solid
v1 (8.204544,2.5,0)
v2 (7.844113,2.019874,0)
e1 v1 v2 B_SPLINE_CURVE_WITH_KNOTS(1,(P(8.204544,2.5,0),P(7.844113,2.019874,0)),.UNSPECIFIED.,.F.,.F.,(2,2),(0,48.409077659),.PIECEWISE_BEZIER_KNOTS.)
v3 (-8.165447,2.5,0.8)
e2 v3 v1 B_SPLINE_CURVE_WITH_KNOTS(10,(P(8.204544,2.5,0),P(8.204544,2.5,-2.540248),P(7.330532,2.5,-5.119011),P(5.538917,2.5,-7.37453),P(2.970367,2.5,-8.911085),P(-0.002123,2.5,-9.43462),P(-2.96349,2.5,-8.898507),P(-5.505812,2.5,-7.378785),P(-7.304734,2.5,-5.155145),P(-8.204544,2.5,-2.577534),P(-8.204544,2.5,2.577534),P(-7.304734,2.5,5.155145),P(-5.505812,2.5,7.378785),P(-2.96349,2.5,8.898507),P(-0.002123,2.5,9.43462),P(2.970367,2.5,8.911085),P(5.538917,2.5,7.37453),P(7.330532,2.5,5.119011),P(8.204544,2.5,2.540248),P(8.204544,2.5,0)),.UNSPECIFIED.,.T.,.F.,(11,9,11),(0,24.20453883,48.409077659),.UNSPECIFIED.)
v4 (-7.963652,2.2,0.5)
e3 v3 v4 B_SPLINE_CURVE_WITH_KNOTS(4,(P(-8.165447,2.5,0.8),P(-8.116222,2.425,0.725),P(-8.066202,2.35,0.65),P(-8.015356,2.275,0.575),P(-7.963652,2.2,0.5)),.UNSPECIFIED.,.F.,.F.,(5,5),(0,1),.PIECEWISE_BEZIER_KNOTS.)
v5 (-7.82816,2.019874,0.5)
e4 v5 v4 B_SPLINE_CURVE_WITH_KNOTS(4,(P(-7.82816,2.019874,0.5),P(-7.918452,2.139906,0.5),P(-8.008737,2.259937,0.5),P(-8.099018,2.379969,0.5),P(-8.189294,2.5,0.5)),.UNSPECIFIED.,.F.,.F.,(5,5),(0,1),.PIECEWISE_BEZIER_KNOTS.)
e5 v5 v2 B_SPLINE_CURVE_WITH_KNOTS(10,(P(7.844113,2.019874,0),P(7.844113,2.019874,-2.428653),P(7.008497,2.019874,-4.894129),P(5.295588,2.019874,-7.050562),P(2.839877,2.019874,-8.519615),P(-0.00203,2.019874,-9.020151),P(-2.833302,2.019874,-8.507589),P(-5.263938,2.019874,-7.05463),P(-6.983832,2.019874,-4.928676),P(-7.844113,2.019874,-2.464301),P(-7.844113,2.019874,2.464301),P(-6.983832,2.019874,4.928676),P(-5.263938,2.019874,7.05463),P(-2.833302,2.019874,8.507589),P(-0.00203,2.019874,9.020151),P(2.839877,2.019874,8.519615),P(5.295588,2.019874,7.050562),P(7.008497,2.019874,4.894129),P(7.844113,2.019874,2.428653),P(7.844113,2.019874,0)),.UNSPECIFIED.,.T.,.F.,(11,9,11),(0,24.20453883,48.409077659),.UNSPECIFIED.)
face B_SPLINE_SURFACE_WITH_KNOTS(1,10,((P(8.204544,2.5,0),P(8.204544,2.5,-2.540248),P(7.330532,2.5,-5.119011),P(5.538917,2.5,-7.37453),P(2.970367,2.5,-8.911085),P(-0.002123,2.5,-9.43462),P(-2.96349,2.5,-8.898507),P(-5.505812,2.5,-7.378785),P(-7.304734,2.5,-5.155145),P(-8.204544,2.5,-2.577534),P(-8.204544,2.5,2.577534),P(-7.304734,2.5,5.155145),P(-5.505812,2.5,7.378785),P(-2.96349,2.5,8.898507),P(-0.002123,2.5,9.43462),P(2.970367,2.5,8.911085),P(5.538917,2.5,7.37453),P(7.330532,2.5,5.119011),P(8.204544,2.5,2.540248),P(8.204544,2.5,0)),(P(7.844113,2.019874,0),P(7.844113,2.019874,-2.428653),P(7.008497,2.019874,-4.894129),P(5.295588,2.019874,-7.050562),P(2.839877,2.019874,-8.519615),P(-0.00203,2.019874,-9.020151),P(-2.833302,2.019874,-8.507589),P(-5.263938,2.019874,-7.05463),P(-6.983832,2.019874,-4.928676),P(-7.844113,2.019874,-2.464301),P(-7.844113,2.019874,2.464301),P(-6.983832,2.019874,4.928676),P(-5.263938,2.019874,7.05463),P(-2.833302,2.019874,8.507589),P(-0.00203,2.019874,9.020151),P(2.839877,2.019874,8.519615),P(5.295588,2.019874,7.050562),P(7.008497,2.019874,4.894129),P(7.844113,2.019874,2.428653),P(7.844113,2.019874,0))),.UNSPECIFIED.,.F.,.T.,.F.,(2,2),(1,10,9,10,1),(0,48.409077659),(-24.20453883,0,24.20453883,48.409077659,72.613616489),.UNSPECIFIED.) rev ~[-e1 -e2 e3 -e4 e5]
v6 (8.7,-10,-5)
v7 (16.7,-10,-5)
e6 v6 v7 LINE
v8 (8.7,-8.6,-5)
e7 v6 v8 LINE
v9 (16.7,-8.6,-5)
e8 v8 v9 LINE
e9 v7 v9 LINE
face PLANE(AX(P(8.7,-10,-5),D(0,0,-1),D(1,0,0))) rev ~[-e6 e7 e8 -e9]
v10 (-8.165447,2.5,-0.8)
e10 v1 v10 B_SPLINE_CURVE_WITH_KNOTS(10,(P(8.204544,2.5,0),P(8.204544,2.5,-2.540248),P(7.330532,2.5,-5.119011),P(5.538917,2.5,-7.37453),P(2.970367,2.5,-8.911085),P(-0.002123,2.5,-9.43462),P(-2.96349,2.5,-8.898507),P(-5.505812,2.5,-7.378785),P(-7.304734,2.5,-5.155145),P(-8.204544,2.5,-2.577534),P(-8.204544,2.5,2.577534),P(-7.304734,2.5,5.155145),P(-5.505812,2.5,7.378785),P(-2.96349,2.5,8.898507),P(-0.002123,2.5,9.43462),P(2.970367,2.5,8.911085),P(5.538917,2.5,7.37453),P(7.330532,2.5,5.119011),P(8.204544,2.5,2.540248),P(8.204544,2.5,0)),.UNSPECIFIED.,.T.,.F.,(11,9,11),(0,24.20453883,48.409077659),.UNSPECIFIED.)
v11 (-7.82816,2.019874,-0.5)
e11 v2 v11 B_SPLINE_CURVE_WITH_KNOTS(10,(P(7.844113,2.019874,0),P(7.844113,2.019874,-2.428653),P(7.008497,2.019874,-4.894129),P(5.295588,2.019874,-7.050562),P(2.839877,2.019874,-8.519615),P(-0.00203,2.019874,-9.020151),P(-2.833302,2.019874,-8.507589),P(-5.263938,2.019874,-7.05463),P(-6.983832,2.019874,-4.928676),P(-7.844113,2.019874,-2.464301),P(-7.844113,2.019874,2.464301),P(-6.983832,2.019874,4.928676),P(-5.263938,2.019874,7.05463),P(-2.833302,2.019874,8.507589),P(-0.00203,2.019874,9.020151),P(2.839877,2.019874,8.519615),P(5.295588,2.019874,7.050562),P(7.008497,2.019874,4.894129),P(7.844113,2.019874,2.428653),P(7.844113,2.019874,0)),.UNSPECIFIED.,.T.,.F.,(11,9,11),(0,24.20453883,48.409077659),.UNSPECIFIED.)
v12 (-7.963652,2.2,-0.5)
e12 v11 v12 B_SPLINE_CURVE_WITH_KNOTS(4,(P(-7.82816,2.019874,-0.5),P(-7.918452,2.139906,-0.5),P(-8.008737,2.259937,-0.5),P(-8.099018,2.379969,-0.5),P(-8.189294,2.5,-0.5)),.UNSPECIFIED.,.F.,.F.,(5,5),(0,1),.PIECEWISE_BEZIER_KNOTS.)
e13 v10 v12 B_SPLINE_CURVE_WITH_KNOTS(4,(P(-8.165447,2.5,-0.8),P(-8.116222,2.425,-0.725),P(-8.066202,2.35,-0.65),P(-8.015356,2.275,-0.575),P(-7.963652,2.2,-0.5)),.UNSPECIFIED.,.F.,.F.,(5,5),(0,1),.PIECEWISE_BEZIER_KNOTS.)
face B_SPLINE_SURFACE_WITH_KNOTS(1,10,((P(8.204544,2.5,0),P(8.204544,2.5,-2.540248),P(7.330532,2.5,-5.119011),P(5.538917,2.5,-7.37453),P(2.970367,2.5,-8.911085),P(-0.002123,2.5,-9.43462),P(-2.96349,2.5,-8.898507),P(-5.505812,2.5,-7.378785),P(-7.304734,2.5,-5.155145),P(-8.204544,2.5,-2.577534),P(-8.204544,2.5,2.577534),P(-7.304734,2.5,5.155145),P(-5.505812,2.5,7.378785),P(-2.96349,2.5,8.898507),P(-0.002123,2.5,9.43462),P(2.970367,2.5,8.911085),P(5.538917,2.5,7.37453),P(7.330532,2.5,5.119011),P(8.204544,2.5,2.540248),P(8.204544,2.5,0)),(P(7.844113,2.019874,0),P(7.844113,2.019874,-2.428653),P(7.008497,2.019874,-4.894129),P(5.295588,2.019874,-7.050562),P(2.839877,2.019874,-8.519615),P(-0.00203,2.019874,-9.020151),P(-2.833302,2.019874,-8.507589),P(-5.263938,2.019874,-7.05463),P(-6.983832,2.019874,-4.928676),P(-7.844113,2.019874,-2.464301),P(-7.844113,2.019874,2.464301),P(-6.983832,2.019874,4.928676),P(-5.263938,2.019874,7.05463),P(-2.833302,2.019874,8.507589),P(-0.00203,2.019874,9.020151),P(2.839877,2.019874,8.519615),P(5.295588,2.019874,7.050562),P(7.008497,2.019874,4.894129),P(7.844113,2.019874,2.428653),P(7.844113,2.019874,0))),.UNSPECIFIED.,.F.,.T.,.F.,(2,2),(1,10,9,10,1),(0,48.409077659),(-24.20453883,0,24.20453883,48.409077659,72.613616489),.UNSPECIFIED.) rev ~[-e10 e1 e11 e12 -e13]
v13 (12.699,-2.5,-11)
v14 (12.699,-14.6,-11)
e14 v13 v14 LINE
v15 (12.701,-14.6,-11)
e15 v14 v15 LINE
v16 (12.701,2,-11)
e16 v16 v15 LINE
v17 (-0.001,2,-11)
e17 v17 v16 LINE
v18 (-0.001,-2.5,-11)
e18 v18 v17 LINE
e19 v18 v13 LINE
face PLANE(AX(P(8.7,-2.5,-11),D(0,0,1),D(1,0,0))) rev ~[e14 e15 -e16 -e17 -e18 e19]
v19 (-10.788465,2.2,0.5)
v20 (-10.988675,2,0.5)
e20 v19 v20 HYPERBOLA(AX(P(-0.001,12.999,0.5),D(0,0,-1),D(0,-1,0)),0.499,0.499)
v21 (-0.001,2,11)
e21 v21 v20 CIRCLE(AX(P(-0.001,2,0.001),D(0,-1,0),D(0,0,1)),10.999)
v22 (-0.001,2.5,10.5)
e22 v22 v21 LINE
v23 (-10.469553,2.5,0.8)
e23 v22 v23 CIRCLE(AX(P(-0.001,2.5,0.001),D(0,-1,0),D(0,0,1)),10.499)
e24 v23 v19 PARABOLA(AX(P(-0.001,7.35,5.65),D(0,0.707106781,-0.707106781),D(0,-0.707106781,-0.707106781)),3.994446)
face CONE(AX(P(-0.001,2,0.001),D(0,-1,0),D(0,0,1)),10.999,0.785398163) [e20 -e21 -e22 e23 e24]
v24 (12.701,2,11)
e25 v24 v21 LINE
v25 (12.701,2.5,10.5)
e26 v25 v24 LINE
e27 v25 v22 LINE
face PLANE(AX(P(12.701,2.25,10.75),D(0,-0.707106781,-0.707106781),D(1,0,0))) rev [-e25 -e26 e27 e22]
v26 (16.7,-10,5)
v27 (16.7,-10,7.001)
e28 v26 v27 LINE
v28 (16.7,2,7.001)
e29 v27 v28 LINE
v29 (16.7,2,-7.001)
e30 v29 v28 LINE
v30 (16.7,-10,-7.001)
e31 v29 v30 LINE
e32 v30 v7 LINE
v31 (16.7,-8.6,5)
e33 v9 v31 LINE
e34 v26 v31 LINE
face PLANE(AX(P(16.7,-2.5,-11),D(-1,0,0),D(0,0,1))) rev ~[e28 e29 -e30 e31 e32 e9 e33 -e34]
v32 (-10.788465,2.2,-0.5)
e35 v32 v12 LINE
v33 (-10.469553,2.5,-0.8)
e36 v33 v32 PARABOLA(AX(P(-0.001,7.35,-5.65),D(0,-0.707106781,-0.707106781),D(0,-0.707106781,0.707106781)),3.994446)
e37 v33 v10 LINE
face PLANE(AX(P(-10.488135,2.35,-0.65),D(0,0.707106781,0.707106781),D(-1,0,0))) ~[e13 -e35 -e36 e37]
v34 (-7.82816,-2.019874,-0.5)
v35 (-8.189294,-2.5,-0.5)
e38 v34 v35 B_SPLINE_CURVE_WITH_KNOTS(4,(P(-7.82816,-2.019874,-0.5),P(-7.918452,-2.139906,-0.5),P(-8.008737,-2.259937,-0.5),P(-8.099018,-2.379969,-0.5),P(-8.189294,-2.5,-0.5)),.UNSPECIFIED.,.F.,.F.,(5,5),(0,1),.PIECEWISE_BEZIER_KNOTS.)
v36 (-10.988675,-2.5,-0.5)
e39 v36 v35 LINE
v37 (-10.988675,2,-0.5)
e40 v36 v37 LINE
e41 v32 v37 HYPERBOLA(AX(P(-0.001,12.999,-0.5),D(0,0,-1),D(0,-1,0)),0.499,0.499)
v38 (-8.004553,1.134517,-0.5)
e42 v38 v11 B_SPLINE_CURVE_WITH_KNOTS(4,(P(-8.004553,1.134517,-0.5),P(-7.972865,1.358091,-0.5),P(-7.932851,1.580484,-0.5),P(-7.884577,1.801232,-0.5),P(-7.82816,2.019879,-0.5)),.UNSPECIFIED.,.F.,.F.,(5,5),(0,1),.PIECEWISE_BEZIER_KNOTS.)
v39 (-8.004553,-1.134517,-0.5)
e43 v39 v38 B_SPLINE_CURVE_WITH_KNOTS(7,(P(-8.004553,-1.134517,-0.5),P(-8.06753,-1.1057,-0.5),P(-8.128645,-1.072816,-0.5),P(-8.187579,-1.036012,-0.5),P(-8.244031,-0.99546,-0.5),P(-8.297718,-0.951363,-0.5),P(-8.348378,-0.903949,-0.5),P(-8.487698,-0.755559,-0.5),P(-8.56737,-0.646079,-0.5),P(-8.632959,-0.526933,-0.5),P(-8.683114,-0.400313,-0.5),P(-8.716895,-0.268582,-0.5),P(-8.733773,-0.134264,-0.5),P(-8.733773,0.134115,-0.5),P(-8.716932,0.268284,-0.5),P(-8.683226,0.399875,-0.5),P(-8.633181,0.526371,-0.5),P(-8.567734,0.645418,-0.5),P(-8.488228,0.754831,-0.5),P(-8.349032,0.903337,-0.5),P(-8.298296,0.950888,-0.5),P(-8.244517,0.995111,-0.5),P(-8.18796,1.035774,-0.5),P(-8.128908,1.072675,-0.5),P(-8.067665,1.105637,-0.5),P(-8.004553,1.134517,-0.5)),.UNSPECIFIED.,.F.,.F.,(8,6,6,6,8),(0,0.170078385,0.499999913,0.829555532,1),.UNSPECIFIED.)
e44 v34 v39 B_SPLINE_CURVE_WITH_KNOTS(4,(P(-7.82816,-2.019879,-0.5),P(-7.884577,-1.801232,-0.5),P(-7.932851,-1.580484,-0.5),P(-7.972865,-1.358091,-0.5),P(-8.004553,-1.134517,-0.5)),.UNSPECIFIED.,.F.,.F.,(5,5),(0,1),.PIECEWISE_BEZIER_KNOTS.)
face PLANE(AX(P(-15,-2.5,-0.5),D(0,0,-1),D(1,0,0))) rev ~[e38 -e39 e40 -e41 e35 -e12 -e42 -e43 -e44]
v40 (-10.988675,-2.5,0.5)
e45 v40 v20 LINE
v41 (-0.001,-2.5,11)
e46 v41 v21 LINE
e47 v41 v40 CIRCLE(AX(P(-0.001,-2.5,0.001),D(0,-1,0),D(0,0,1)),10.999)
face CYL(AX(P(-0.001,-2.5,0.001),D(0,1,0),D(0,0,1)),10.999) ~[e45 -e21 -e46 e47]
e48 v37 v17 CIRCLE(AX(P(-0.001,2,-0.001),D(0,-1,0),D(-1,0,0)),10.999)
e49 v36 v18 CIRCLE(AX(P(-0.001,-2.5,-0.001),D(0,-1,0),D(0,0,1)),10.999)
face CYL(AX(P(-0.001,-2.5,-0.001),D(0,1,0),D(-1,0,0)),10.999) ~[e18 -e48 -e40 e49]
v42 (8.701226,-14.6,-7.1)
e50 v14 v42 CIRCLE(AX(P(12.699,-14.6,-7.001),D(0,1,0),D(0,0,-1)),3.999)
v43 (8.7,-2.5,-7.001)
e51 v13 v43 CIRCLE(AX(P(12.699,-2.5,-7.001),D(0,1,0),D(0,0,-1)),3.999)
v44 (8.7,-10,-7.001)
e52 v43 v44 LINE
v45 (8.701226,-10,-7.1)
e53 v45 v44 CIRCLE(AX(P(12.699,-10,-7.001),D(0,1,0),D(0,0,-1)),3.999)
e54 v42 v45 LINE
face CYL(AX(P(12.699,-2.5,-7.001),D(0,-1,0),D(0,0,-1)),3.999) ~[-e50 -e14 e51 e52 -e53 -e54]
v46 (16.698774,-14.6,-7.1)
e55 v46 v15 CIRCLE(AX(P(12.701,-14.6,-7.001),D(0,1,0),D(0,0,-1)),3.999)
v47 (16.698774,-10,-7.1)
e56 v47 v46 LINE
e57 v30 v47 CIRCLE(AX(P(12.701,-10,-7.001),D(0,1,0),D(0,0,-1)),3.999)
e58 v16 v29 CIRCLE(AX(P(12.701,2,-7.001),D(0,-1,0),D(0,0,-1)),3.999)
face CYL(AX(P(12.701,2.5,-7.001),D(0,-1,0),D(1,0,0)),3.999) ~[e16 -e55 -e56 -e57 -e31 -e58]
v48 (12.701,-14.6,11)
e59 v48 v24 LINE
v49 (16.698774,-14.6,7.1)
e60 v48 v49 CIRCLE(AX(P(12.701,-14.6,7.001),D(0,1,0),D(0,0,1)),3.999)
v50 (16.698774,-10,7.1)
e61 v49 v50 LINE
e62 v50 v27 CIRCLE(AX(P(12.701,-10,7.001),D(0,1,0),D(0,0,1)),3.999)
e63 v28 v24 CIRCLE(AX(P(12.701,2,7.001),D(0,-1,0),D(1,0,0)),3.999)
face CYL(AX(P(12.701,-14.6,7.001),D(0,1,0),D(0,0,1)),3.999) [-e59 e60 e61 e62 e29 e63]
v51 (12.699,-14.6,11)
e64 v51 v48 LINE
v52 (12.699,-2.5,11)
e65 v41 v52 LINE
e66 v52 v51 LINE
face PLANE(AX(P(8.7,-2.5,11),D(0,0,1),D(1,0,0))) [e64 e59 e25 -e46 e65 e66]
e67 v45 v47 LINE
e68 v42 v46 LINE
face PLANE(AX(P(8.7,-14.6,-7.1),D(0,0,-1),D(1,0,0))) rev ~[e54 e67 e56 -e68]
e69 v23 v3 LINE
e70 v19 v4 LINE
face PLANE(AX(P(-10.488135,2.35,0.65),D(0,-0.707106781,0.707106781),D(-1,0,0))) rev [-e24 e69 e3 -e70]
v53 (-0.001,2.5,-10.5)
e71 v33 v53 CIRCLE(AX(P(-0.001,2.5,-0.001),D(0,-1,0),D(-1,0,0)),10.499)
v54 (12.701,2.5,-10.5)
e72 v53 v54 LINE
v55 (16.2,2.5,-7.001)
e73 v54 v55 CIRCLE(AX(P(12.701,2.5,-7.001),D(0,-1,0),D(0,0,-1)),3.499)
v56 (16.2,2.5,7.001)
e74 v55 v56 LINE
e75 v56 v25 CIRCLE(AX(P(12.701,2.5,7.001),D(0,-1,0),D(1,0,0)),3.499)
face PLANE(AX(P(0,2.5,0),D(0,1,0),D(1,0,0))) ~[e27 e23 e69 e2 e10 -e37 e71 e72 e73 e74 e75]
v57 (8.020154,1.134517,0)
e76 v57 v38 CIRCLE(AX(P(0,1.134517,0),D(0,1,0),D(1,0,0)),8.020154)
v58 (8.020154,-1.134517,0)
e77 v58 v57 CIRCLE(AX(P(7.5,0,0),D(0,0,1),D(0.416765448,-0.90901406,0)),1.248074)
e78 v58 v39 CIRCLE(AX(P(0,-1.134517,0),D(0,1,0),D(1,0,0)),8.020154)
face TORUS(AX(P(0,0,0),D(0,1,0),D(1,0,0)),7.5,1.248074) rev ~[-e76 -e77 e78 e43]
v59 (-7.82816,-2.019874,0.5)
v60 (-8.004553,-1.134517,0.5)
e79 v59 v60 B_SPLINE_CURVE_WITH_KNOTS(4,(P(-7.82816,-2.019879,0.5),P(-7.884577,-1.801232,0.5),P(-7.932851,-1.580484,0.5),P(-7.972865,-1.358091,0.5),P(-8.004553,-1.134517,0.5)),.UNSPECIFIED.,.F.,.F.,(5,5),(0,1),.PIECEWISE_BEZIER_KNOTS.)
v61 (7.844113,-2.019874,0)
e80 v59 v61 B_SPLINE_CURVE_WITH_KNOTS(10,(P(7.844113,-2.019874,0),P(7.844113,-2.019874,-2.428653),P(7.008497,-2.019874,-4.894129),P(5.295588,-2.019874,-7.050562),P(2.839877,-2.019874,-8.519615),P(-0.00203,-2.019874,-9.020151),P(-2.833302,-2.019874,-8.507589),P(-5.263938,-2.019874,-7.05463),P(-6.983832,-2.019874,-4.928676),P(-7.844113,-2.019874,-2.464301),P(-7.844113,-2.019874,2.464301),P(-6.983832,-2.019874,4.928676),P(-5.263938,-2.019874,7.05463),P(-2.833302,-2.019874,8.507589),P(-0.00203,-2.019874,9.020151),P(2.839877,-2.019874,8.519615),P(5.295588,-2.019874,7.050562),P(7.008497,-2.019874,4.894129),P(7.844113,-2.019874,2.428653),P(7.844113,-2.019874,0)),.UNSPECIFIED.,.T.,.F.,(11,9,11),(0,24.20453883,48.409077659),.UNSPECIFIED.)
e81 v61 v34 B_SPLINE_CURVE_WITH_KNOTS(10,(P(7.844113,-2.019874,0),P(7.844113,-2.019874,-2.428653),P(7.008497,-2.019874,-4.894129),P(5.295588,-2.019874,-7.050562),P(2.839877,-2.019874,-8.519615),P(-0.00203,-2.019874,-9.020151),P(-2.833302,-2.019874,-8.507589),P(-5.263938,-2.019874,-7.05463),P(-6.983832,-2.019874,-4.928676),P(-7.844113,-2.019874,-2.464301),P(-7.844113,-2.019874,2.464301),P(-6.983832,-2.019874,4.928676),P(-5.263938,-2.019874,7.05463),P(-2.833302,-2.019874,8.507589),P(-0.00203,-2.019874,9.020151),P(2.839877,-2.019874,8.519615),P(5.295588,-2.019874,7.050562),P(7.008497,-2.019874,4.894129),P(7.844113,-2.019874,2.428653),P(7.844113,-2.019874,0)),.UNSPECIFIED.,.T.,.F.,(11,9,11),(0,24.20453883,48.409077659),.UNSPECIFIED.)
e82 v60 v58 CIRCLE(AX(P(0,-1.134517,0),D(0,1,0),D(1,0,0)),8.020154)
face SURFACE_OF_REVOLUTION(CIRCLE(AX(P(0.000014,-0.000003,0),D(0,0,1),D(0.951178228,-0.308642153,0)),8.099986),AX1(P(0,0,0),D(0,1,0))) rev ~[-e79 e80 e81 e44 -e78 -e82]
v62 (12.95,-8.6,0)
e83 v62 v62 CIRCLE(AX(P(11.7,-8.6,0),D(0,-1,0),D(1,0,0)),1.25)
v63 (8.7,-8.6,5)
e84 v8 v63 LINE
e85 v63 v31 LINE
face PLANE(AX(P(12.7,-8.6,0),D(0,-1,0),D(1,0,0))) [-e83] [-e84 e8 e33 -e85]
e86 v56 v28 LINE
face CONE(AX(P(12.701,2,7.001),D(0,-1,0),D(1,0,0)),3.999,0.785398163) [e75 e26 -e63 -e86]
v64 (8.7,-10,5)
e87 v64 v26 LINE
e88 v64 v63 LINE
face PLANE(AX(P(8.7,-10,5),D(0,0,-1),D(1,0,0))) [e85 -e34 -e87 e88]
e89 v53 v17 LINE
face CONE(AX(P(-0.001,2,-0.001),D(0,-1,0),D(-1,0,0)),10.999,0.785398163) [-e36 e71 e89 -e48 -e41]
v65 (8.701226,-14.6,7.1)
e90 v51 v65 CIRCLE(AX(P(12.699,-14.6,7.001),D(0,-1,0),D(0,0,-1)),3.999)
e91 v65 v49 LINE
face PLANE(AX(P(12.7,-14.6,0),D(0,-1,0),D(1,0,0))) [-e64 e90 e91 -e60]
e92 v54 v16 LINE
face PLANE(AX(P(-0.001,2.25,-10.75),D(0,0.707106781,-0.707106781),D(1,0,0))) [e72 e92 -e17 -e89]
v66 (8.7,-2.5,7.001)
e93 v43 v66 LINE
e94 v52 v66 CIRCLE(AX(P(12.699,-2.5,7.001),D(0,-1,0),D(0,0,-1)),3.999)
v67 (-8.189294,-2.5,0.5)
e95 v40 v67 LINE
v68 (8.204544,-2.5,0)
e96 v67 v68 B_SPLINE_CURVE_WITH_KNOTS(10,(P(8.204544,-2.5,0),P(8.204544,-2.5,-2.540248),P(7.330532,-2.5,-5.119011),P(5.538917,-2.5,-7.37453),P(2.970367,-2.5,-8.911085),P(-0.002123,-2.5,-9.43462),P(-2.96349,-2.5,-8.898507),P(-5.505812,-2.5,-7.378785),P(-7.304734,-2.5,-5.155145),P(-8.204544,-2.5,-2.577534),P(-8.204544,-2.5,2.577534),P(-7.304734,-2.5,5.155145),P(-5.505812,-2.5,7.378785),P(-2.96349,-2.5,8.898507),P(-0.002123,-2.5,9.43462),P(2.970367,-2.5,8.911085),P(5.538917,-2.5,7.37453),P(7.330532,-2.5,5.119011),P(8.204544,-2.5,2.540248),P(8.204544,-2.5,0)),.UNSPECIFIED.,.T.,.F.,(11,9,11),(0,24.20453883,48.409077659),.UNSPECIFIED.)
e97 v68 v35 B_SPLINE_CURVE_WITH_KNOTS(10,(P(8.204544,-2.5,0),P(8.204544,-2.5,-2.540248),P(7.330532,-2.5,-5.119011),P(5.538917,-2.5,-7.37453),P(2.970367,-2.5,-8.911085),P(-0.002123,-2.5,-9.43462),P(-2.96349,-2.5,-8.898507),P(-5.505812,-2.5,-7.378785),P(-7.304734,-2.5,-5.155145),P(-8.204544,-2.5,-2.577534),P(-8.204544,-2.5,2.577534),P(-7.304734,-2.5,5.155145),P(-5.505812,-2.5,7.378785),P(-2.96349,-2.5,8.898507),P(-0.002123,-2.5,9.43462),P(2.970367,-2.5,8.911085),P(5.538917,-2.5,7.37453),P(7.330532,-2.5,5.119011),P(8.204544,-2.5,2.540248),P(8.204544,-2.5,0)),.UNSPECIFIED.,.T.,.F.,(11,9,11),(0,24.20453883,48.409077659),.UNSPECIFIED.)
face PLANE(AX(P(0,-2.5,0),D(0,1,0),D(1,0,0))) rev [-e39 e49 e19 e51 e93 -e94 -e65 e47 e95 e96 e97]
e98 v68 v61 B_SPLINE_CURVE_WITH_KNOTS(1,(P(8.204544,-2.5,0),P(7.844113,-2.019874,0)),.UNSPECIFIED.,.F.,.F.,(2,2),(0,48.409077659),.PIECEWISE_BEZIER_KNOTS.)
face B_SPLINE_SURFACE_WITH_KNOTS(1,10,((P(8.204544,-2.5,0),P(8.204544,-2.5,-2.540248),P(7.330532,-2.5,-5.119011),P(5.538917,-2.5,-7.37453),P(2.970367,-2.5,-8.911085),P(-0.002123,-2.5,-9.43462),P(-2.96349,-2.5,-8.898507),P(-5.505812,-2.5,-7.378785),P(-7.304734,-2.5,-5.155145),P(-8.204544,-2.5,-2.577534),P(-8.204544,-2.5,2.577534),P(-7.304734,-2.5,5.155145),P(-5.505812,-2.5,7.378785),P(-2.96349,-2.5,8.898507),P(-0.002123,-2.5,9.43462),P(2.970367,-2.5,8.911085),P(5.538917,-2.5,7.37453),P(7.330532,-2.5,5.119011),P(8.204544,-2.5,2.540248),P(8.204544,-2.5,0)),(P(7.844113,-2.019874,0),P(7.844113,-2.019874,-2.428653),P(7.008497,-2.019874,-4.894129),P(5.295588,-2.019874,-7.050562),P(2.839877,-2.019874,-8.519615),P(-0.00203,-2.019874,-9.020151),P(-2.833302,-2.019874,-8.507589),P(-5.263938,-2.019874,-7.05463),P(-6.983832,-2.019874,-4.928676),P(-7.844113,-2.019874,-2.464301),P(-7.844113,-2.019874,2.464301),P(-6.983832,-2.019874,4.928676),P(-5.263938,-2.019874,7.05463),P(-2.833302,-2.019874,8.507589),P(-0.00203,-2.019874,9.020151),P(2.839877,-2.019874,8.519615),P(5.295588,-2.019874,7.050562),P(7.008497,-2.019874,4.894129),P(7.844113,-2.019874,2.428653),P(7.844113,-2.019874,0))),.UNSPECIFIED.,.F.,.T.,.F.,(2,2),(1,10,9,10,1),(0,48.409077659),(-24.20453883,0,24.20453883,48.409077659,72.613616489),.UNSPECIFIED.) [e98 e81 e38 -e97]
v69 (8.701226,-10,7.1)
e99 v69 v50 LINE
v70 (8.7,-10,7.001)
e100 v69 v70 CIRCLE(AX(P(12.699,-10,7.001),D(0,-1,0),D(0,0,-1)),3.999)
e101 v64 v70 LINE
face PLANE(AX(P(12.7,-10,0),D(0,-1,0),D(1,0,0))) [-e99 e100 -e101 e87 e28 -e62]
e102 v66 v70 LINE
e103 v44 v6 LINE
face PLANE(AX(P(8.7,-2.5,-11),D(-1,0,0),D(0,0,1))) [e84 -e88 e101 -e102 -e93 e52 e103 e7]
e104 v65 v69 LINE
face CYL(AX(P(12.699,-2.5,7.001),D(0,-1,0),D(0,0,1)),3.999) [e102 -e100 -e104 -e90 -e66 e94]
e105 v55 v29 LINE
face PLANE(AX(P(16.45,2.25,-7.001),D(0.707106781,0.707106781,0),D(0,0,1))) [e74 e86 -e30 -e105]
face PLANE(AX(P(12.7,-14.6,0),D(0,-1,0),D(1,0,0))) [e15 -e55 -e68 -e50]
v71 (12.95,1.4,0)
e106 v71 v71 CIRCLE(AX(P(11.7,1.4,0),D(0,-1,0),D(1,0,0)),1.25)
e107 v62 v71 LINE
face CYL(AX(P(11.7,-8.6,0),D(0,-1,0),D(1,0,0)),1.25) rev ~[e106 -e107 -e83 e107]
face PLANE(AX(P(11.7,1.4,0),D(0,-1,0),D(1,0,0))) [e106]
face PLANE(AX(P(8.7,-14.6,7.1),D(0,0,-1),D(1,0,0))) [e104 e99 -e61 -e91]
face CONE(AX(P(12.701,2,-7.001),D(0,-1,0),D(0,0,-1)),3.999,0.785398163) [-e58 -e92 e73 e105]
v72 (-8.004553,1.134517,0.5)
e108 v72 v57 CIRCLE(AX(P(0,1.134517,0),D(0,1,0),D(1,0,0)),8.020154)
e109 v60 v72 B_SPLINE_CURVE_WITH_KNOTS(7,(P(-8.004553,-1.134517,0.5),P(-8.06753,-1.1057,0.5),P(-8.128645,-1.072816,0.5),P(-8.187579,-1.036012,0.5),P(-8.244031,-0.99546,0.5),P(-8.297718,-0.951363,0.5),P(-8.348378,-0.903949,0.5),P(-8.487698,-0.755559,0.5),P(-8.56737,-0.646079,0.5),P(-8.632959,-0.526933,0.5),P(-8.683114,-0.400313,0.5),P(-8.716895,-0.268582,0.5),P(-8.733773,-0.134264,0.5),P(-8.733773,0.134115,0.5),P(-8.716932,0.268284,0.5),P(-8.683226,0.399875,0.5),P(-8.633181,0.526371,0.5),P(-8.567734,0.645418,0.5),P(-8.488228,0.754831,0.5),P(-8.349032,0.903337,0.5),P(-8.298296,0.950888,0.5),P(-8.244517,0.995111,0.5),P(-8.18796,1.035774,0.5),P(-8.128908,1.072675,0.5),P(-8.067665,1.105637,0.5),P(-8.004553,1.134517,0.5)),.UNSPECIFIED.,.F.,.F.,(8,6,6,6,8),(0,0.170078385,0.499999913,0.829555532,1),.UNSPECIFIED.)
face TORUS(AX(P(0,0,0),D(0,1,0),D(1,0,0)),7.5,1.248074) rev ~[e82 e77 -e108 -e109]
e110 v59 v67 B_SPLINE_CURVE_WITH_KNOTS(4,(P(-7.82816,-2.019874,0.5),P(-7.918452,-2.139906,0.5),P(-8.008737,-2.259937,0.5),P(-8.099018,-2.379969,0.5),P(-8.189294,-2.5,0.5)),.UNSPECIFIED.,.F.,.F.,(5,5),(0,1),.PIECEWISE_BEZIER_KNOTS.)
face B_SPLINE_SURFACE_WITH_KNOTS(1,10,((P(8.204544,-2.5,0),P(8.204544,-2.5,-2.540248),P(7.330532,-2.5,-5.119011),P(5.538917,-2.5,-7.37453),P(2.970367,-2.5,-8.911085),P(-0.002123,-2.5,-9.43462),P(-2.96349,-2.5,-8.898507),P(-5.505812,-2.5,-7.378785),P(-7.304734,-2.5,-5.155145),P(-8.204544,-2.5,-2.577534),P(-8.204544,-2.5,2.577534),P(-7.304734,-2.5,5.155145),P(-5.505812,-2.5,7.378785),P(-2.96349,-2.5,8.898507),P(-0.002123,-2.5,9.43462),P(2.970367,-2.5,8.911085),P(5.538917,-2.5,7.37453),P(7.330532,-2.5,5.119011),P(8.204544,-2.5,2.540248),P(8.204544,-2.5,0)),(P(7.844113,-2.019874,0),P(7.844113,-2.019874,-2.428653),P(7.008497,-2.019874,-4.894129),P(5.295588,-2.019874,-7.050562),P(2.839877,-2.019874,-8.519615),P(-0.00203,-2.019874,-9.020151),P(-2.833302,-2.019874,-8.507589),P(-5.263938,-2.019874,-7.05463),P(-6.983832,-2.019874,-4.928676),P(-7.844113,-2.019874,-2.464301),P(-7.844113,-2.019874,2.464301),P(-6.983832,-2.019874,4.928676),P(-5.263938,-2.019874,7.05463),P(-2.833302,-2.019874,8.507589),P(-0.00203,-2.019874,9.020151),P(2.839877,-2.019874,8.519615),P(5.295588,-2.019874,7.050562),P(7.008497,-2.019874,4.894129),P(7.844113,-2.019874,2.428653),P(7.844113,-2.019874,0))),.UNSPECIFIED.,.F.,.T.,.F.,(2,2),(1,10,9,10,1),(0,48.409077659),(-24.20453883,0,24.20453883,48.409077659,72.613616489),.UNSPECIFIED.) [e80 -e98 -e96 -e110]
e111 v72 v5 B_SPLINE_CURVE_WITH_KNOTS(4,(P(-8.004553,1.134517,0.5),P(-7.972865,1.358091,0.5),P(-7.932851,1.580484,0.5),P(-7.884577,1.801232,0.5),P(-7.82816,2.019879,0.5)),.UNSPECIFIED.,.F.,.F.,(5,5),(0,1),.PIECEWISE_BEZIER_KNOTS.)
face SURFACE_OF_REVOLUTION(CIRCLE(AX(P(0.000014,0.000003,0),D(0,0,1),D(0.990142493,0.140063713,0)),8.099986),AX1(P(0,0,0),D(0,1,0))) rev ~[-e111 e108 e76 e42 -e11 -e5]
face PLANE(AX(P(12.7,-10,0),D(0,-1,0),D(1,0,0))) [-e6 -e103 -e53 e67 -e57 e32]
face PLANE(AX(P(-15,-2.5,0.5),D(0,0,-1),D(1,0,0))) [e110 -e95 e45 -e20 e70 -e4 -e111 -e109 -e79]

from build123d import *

# Parameters (mm, degrees)
CHAMFER_SIZE    = 0.5
CHAMFER001_SIZE = 0.5
SKETCH001_W     = 70
SKETCH001_H     = 70
SKETCH001_W_2   = 27.7
SKETCH001_H_2   = 22
POCKET_DEPTH    = 5.001
SKETCH002_W     = 8
SKETCH002_H     = 22
PAD_DEPTH       = 12.1
SKETCH003_W     = 8
SKETCH003_H     = 14.2
POCKET001_DEPTH = 4.6
SKETCH004_W     = 8
SKETCH004_H     = 10
POCKET002_DEPTH = 1.4
SKETCH005_R     = 1.25
POCKET003_DEPTH = 10
FILLET_R        = 10.999
FILLET001_R     = 10.999
FILLET002_R     = 3.999
FILLET003_R     = 3.999
FILLET004_R     = 3.999
FILLET005_R     = 3.999
CHAMFER002_SIZE = 0.5
SKETCH006_W     = 10
SKETCH006_H     = 1
POCKET004_DEPTH = 6
CHAMFER003_SIZE = 0.3
CHAMFER004_SIZE = 0.3


with BuildPart() as part:
    # Sketch → Revolution (revolve)
    with BuildSketch(Plane.XY):
        with BuildLine():
            Line((7.704544, 2.5), (31, 2.5))
            Line((31, 2.5), (31, -2.5))
            Line((7.704544, -2.5), (31, -2.5))
            ThreePointArc((7.704544, -2.5), (7.891937, -1.824097), (8.020154, -1.134517))
            ThreePointArc((8.020154, -1.134517), (8.748074, 0), (8.020154, 1.134517))
            ThreePointArc((8.020154, 1.134517), (7.891937, 1.824097), (7.704544, 2.5))
        make_face()
    revolve(axis=Axis((0, 0, 0), (0, 1, 0)))

    # Chamfer
    chamfer_edges = [part.edges().sort_by_distance(p)[0] for p in [
        (-7.704544, -2.5, 0),
    ]]
    chamfer(chamfer_edges, length=CHAMFER_SIZE)

    # Chamfer001
    chamfer001_edges = [part.edges().sort_by_distance(p)[0] for p in [
        (-7.704544, 2.5, 0),
    ]]
    chamfer(chamfer001_edges, length=CHAMFER001_SIZE)

    # Sketch001 → Pocket (cut, through all)
    with BuildSketch(Plane.XZ.offset(2.5)):
        Rectangle(SKETCH001_W, SKETCH001_H)
        with Locations((2.85, 0)):
            Rectangle(SKETCH001_W_2, SKETCH001_H_2, mode=Mode.SUBTRACT)
    extrude(amount=-POCKET_DEPTH, mode=Mode.SUBTRACT)

    # Sketch002 → Pad (new body)
    with BuildSketch(Plane.XZ.offset(2.5)):
        with Locations((12.7, 0)):
            Rectangle(SKETCH002_W, SKETCH002_H)
    extrude(amount=PAD_DEPTH)

    # Sketch003 → Pocket001 (cut)
    with BuildSketch(Plane.XZ.offset(14.6)):
        with Locations((12.7, 0)):
            Rectangle(SKETCH003_W, SKETCH003_H)
    extrude(amount=-POCKET001_DEPTH, mode=Mode.SUBTRACT)

    # Sketch004 → Pocket002 (cut)
    with BuildSketch(Plane.XZ.offset(10)):
        with Locations((12.7, 0)):
            Rectangle(SKETCH004_W, SKETCH004_H)
    extrude(amount=-POCKET002_DEPTH, mode=Mode.SUBTRACT)

    # Sketch005 → Pocket003 (cut)
    with BuildSketch(Plane.XZ.offset(8.6)):
        with Locations((11.7, 0)):
            Circle(SKETCH005_R)
    extrude(amount=-POCKET003_DEPTH, mode=Mode.SUBTRACT)

    # Fillet
    fillet_edges = [part.edges().sort_by_distance(p)[0] for p in [
        (-11, 0, 11),
    ]]
    fillet(fillet_edges, radius=FILLET_R)

    # Fillet001
    fillet001_edges = [part.edges().sort_by_distance(p)[0] for p in [
        (-11, 0, -11),
    ]]
    fillet(fillet001_edges, radius=FILLET001_R)

    # Fillet002
    fillet002_edges = [part.edges().sort_by_distance(p)[0] for p in [
        (8.7, -8.55, -11),
    ]]
    fillet(fillet002_edges, radius=FILLET002_R)

    # Fillet003
    fillet003_edges = [part.edges().sort_by_distance(p)[0] for p in [
        (16.7, -8.55, -11),
    ]]
    fillet(fillet003_edges, radius=FILLET003_R)

    # Fillet004
    fillet004_edges = [part.edges().sort_by_distance(p)[0] for p in [
        (8.7, -8.55, 11),
    ]]
    fillet(fillet004_edges, radius=FILLET004_R)

    # Fillet005
    fillet005_edges = [part.edges().sort_by_distance(p)[0] for p in [
        (16.7, -8.55, 11),
    ]]
    fillet(fillet005_edges, radius=FILLET005_R)

    # Chamfer002
    chamfer002_edges = [part.edges().sort_by_distance(p)[0] for p in [
        (16.7, 2.5, 0),
    ]]
    chamfer(chamfer002_edges, length=CHAMFER002_SIZE)

    # Sketch006 → Pocket004 (cut)
    with BuildSketch(Plane.XZ.offset(2.5)):
        with Locations((-10, 0)):
            Rectangle(SKETCH006_W, SKETCH006_H)
    extrude(amount=-POCKET004_DEPTH, mode=Mode.SUBTRACT)

    # Chamfer003
    chamfer003_edges = [part.edges().sort_by_distance(p)[0] for p in [
        (-9.338714, 2.5, -0.5),
    ]]
    chamfer(chamfer003_edges, length=CHAMFER003_SIZE)

    # Chamfer004
    chamfer004_edges = [part.edges().sort_by_distance(p)[0] for p in [
        (-9.338714, 2.5, 0.5),
    ]]
    chamfer(chamfer004_edges, length=CHAMFER004_SIZE)


solid = part.part
